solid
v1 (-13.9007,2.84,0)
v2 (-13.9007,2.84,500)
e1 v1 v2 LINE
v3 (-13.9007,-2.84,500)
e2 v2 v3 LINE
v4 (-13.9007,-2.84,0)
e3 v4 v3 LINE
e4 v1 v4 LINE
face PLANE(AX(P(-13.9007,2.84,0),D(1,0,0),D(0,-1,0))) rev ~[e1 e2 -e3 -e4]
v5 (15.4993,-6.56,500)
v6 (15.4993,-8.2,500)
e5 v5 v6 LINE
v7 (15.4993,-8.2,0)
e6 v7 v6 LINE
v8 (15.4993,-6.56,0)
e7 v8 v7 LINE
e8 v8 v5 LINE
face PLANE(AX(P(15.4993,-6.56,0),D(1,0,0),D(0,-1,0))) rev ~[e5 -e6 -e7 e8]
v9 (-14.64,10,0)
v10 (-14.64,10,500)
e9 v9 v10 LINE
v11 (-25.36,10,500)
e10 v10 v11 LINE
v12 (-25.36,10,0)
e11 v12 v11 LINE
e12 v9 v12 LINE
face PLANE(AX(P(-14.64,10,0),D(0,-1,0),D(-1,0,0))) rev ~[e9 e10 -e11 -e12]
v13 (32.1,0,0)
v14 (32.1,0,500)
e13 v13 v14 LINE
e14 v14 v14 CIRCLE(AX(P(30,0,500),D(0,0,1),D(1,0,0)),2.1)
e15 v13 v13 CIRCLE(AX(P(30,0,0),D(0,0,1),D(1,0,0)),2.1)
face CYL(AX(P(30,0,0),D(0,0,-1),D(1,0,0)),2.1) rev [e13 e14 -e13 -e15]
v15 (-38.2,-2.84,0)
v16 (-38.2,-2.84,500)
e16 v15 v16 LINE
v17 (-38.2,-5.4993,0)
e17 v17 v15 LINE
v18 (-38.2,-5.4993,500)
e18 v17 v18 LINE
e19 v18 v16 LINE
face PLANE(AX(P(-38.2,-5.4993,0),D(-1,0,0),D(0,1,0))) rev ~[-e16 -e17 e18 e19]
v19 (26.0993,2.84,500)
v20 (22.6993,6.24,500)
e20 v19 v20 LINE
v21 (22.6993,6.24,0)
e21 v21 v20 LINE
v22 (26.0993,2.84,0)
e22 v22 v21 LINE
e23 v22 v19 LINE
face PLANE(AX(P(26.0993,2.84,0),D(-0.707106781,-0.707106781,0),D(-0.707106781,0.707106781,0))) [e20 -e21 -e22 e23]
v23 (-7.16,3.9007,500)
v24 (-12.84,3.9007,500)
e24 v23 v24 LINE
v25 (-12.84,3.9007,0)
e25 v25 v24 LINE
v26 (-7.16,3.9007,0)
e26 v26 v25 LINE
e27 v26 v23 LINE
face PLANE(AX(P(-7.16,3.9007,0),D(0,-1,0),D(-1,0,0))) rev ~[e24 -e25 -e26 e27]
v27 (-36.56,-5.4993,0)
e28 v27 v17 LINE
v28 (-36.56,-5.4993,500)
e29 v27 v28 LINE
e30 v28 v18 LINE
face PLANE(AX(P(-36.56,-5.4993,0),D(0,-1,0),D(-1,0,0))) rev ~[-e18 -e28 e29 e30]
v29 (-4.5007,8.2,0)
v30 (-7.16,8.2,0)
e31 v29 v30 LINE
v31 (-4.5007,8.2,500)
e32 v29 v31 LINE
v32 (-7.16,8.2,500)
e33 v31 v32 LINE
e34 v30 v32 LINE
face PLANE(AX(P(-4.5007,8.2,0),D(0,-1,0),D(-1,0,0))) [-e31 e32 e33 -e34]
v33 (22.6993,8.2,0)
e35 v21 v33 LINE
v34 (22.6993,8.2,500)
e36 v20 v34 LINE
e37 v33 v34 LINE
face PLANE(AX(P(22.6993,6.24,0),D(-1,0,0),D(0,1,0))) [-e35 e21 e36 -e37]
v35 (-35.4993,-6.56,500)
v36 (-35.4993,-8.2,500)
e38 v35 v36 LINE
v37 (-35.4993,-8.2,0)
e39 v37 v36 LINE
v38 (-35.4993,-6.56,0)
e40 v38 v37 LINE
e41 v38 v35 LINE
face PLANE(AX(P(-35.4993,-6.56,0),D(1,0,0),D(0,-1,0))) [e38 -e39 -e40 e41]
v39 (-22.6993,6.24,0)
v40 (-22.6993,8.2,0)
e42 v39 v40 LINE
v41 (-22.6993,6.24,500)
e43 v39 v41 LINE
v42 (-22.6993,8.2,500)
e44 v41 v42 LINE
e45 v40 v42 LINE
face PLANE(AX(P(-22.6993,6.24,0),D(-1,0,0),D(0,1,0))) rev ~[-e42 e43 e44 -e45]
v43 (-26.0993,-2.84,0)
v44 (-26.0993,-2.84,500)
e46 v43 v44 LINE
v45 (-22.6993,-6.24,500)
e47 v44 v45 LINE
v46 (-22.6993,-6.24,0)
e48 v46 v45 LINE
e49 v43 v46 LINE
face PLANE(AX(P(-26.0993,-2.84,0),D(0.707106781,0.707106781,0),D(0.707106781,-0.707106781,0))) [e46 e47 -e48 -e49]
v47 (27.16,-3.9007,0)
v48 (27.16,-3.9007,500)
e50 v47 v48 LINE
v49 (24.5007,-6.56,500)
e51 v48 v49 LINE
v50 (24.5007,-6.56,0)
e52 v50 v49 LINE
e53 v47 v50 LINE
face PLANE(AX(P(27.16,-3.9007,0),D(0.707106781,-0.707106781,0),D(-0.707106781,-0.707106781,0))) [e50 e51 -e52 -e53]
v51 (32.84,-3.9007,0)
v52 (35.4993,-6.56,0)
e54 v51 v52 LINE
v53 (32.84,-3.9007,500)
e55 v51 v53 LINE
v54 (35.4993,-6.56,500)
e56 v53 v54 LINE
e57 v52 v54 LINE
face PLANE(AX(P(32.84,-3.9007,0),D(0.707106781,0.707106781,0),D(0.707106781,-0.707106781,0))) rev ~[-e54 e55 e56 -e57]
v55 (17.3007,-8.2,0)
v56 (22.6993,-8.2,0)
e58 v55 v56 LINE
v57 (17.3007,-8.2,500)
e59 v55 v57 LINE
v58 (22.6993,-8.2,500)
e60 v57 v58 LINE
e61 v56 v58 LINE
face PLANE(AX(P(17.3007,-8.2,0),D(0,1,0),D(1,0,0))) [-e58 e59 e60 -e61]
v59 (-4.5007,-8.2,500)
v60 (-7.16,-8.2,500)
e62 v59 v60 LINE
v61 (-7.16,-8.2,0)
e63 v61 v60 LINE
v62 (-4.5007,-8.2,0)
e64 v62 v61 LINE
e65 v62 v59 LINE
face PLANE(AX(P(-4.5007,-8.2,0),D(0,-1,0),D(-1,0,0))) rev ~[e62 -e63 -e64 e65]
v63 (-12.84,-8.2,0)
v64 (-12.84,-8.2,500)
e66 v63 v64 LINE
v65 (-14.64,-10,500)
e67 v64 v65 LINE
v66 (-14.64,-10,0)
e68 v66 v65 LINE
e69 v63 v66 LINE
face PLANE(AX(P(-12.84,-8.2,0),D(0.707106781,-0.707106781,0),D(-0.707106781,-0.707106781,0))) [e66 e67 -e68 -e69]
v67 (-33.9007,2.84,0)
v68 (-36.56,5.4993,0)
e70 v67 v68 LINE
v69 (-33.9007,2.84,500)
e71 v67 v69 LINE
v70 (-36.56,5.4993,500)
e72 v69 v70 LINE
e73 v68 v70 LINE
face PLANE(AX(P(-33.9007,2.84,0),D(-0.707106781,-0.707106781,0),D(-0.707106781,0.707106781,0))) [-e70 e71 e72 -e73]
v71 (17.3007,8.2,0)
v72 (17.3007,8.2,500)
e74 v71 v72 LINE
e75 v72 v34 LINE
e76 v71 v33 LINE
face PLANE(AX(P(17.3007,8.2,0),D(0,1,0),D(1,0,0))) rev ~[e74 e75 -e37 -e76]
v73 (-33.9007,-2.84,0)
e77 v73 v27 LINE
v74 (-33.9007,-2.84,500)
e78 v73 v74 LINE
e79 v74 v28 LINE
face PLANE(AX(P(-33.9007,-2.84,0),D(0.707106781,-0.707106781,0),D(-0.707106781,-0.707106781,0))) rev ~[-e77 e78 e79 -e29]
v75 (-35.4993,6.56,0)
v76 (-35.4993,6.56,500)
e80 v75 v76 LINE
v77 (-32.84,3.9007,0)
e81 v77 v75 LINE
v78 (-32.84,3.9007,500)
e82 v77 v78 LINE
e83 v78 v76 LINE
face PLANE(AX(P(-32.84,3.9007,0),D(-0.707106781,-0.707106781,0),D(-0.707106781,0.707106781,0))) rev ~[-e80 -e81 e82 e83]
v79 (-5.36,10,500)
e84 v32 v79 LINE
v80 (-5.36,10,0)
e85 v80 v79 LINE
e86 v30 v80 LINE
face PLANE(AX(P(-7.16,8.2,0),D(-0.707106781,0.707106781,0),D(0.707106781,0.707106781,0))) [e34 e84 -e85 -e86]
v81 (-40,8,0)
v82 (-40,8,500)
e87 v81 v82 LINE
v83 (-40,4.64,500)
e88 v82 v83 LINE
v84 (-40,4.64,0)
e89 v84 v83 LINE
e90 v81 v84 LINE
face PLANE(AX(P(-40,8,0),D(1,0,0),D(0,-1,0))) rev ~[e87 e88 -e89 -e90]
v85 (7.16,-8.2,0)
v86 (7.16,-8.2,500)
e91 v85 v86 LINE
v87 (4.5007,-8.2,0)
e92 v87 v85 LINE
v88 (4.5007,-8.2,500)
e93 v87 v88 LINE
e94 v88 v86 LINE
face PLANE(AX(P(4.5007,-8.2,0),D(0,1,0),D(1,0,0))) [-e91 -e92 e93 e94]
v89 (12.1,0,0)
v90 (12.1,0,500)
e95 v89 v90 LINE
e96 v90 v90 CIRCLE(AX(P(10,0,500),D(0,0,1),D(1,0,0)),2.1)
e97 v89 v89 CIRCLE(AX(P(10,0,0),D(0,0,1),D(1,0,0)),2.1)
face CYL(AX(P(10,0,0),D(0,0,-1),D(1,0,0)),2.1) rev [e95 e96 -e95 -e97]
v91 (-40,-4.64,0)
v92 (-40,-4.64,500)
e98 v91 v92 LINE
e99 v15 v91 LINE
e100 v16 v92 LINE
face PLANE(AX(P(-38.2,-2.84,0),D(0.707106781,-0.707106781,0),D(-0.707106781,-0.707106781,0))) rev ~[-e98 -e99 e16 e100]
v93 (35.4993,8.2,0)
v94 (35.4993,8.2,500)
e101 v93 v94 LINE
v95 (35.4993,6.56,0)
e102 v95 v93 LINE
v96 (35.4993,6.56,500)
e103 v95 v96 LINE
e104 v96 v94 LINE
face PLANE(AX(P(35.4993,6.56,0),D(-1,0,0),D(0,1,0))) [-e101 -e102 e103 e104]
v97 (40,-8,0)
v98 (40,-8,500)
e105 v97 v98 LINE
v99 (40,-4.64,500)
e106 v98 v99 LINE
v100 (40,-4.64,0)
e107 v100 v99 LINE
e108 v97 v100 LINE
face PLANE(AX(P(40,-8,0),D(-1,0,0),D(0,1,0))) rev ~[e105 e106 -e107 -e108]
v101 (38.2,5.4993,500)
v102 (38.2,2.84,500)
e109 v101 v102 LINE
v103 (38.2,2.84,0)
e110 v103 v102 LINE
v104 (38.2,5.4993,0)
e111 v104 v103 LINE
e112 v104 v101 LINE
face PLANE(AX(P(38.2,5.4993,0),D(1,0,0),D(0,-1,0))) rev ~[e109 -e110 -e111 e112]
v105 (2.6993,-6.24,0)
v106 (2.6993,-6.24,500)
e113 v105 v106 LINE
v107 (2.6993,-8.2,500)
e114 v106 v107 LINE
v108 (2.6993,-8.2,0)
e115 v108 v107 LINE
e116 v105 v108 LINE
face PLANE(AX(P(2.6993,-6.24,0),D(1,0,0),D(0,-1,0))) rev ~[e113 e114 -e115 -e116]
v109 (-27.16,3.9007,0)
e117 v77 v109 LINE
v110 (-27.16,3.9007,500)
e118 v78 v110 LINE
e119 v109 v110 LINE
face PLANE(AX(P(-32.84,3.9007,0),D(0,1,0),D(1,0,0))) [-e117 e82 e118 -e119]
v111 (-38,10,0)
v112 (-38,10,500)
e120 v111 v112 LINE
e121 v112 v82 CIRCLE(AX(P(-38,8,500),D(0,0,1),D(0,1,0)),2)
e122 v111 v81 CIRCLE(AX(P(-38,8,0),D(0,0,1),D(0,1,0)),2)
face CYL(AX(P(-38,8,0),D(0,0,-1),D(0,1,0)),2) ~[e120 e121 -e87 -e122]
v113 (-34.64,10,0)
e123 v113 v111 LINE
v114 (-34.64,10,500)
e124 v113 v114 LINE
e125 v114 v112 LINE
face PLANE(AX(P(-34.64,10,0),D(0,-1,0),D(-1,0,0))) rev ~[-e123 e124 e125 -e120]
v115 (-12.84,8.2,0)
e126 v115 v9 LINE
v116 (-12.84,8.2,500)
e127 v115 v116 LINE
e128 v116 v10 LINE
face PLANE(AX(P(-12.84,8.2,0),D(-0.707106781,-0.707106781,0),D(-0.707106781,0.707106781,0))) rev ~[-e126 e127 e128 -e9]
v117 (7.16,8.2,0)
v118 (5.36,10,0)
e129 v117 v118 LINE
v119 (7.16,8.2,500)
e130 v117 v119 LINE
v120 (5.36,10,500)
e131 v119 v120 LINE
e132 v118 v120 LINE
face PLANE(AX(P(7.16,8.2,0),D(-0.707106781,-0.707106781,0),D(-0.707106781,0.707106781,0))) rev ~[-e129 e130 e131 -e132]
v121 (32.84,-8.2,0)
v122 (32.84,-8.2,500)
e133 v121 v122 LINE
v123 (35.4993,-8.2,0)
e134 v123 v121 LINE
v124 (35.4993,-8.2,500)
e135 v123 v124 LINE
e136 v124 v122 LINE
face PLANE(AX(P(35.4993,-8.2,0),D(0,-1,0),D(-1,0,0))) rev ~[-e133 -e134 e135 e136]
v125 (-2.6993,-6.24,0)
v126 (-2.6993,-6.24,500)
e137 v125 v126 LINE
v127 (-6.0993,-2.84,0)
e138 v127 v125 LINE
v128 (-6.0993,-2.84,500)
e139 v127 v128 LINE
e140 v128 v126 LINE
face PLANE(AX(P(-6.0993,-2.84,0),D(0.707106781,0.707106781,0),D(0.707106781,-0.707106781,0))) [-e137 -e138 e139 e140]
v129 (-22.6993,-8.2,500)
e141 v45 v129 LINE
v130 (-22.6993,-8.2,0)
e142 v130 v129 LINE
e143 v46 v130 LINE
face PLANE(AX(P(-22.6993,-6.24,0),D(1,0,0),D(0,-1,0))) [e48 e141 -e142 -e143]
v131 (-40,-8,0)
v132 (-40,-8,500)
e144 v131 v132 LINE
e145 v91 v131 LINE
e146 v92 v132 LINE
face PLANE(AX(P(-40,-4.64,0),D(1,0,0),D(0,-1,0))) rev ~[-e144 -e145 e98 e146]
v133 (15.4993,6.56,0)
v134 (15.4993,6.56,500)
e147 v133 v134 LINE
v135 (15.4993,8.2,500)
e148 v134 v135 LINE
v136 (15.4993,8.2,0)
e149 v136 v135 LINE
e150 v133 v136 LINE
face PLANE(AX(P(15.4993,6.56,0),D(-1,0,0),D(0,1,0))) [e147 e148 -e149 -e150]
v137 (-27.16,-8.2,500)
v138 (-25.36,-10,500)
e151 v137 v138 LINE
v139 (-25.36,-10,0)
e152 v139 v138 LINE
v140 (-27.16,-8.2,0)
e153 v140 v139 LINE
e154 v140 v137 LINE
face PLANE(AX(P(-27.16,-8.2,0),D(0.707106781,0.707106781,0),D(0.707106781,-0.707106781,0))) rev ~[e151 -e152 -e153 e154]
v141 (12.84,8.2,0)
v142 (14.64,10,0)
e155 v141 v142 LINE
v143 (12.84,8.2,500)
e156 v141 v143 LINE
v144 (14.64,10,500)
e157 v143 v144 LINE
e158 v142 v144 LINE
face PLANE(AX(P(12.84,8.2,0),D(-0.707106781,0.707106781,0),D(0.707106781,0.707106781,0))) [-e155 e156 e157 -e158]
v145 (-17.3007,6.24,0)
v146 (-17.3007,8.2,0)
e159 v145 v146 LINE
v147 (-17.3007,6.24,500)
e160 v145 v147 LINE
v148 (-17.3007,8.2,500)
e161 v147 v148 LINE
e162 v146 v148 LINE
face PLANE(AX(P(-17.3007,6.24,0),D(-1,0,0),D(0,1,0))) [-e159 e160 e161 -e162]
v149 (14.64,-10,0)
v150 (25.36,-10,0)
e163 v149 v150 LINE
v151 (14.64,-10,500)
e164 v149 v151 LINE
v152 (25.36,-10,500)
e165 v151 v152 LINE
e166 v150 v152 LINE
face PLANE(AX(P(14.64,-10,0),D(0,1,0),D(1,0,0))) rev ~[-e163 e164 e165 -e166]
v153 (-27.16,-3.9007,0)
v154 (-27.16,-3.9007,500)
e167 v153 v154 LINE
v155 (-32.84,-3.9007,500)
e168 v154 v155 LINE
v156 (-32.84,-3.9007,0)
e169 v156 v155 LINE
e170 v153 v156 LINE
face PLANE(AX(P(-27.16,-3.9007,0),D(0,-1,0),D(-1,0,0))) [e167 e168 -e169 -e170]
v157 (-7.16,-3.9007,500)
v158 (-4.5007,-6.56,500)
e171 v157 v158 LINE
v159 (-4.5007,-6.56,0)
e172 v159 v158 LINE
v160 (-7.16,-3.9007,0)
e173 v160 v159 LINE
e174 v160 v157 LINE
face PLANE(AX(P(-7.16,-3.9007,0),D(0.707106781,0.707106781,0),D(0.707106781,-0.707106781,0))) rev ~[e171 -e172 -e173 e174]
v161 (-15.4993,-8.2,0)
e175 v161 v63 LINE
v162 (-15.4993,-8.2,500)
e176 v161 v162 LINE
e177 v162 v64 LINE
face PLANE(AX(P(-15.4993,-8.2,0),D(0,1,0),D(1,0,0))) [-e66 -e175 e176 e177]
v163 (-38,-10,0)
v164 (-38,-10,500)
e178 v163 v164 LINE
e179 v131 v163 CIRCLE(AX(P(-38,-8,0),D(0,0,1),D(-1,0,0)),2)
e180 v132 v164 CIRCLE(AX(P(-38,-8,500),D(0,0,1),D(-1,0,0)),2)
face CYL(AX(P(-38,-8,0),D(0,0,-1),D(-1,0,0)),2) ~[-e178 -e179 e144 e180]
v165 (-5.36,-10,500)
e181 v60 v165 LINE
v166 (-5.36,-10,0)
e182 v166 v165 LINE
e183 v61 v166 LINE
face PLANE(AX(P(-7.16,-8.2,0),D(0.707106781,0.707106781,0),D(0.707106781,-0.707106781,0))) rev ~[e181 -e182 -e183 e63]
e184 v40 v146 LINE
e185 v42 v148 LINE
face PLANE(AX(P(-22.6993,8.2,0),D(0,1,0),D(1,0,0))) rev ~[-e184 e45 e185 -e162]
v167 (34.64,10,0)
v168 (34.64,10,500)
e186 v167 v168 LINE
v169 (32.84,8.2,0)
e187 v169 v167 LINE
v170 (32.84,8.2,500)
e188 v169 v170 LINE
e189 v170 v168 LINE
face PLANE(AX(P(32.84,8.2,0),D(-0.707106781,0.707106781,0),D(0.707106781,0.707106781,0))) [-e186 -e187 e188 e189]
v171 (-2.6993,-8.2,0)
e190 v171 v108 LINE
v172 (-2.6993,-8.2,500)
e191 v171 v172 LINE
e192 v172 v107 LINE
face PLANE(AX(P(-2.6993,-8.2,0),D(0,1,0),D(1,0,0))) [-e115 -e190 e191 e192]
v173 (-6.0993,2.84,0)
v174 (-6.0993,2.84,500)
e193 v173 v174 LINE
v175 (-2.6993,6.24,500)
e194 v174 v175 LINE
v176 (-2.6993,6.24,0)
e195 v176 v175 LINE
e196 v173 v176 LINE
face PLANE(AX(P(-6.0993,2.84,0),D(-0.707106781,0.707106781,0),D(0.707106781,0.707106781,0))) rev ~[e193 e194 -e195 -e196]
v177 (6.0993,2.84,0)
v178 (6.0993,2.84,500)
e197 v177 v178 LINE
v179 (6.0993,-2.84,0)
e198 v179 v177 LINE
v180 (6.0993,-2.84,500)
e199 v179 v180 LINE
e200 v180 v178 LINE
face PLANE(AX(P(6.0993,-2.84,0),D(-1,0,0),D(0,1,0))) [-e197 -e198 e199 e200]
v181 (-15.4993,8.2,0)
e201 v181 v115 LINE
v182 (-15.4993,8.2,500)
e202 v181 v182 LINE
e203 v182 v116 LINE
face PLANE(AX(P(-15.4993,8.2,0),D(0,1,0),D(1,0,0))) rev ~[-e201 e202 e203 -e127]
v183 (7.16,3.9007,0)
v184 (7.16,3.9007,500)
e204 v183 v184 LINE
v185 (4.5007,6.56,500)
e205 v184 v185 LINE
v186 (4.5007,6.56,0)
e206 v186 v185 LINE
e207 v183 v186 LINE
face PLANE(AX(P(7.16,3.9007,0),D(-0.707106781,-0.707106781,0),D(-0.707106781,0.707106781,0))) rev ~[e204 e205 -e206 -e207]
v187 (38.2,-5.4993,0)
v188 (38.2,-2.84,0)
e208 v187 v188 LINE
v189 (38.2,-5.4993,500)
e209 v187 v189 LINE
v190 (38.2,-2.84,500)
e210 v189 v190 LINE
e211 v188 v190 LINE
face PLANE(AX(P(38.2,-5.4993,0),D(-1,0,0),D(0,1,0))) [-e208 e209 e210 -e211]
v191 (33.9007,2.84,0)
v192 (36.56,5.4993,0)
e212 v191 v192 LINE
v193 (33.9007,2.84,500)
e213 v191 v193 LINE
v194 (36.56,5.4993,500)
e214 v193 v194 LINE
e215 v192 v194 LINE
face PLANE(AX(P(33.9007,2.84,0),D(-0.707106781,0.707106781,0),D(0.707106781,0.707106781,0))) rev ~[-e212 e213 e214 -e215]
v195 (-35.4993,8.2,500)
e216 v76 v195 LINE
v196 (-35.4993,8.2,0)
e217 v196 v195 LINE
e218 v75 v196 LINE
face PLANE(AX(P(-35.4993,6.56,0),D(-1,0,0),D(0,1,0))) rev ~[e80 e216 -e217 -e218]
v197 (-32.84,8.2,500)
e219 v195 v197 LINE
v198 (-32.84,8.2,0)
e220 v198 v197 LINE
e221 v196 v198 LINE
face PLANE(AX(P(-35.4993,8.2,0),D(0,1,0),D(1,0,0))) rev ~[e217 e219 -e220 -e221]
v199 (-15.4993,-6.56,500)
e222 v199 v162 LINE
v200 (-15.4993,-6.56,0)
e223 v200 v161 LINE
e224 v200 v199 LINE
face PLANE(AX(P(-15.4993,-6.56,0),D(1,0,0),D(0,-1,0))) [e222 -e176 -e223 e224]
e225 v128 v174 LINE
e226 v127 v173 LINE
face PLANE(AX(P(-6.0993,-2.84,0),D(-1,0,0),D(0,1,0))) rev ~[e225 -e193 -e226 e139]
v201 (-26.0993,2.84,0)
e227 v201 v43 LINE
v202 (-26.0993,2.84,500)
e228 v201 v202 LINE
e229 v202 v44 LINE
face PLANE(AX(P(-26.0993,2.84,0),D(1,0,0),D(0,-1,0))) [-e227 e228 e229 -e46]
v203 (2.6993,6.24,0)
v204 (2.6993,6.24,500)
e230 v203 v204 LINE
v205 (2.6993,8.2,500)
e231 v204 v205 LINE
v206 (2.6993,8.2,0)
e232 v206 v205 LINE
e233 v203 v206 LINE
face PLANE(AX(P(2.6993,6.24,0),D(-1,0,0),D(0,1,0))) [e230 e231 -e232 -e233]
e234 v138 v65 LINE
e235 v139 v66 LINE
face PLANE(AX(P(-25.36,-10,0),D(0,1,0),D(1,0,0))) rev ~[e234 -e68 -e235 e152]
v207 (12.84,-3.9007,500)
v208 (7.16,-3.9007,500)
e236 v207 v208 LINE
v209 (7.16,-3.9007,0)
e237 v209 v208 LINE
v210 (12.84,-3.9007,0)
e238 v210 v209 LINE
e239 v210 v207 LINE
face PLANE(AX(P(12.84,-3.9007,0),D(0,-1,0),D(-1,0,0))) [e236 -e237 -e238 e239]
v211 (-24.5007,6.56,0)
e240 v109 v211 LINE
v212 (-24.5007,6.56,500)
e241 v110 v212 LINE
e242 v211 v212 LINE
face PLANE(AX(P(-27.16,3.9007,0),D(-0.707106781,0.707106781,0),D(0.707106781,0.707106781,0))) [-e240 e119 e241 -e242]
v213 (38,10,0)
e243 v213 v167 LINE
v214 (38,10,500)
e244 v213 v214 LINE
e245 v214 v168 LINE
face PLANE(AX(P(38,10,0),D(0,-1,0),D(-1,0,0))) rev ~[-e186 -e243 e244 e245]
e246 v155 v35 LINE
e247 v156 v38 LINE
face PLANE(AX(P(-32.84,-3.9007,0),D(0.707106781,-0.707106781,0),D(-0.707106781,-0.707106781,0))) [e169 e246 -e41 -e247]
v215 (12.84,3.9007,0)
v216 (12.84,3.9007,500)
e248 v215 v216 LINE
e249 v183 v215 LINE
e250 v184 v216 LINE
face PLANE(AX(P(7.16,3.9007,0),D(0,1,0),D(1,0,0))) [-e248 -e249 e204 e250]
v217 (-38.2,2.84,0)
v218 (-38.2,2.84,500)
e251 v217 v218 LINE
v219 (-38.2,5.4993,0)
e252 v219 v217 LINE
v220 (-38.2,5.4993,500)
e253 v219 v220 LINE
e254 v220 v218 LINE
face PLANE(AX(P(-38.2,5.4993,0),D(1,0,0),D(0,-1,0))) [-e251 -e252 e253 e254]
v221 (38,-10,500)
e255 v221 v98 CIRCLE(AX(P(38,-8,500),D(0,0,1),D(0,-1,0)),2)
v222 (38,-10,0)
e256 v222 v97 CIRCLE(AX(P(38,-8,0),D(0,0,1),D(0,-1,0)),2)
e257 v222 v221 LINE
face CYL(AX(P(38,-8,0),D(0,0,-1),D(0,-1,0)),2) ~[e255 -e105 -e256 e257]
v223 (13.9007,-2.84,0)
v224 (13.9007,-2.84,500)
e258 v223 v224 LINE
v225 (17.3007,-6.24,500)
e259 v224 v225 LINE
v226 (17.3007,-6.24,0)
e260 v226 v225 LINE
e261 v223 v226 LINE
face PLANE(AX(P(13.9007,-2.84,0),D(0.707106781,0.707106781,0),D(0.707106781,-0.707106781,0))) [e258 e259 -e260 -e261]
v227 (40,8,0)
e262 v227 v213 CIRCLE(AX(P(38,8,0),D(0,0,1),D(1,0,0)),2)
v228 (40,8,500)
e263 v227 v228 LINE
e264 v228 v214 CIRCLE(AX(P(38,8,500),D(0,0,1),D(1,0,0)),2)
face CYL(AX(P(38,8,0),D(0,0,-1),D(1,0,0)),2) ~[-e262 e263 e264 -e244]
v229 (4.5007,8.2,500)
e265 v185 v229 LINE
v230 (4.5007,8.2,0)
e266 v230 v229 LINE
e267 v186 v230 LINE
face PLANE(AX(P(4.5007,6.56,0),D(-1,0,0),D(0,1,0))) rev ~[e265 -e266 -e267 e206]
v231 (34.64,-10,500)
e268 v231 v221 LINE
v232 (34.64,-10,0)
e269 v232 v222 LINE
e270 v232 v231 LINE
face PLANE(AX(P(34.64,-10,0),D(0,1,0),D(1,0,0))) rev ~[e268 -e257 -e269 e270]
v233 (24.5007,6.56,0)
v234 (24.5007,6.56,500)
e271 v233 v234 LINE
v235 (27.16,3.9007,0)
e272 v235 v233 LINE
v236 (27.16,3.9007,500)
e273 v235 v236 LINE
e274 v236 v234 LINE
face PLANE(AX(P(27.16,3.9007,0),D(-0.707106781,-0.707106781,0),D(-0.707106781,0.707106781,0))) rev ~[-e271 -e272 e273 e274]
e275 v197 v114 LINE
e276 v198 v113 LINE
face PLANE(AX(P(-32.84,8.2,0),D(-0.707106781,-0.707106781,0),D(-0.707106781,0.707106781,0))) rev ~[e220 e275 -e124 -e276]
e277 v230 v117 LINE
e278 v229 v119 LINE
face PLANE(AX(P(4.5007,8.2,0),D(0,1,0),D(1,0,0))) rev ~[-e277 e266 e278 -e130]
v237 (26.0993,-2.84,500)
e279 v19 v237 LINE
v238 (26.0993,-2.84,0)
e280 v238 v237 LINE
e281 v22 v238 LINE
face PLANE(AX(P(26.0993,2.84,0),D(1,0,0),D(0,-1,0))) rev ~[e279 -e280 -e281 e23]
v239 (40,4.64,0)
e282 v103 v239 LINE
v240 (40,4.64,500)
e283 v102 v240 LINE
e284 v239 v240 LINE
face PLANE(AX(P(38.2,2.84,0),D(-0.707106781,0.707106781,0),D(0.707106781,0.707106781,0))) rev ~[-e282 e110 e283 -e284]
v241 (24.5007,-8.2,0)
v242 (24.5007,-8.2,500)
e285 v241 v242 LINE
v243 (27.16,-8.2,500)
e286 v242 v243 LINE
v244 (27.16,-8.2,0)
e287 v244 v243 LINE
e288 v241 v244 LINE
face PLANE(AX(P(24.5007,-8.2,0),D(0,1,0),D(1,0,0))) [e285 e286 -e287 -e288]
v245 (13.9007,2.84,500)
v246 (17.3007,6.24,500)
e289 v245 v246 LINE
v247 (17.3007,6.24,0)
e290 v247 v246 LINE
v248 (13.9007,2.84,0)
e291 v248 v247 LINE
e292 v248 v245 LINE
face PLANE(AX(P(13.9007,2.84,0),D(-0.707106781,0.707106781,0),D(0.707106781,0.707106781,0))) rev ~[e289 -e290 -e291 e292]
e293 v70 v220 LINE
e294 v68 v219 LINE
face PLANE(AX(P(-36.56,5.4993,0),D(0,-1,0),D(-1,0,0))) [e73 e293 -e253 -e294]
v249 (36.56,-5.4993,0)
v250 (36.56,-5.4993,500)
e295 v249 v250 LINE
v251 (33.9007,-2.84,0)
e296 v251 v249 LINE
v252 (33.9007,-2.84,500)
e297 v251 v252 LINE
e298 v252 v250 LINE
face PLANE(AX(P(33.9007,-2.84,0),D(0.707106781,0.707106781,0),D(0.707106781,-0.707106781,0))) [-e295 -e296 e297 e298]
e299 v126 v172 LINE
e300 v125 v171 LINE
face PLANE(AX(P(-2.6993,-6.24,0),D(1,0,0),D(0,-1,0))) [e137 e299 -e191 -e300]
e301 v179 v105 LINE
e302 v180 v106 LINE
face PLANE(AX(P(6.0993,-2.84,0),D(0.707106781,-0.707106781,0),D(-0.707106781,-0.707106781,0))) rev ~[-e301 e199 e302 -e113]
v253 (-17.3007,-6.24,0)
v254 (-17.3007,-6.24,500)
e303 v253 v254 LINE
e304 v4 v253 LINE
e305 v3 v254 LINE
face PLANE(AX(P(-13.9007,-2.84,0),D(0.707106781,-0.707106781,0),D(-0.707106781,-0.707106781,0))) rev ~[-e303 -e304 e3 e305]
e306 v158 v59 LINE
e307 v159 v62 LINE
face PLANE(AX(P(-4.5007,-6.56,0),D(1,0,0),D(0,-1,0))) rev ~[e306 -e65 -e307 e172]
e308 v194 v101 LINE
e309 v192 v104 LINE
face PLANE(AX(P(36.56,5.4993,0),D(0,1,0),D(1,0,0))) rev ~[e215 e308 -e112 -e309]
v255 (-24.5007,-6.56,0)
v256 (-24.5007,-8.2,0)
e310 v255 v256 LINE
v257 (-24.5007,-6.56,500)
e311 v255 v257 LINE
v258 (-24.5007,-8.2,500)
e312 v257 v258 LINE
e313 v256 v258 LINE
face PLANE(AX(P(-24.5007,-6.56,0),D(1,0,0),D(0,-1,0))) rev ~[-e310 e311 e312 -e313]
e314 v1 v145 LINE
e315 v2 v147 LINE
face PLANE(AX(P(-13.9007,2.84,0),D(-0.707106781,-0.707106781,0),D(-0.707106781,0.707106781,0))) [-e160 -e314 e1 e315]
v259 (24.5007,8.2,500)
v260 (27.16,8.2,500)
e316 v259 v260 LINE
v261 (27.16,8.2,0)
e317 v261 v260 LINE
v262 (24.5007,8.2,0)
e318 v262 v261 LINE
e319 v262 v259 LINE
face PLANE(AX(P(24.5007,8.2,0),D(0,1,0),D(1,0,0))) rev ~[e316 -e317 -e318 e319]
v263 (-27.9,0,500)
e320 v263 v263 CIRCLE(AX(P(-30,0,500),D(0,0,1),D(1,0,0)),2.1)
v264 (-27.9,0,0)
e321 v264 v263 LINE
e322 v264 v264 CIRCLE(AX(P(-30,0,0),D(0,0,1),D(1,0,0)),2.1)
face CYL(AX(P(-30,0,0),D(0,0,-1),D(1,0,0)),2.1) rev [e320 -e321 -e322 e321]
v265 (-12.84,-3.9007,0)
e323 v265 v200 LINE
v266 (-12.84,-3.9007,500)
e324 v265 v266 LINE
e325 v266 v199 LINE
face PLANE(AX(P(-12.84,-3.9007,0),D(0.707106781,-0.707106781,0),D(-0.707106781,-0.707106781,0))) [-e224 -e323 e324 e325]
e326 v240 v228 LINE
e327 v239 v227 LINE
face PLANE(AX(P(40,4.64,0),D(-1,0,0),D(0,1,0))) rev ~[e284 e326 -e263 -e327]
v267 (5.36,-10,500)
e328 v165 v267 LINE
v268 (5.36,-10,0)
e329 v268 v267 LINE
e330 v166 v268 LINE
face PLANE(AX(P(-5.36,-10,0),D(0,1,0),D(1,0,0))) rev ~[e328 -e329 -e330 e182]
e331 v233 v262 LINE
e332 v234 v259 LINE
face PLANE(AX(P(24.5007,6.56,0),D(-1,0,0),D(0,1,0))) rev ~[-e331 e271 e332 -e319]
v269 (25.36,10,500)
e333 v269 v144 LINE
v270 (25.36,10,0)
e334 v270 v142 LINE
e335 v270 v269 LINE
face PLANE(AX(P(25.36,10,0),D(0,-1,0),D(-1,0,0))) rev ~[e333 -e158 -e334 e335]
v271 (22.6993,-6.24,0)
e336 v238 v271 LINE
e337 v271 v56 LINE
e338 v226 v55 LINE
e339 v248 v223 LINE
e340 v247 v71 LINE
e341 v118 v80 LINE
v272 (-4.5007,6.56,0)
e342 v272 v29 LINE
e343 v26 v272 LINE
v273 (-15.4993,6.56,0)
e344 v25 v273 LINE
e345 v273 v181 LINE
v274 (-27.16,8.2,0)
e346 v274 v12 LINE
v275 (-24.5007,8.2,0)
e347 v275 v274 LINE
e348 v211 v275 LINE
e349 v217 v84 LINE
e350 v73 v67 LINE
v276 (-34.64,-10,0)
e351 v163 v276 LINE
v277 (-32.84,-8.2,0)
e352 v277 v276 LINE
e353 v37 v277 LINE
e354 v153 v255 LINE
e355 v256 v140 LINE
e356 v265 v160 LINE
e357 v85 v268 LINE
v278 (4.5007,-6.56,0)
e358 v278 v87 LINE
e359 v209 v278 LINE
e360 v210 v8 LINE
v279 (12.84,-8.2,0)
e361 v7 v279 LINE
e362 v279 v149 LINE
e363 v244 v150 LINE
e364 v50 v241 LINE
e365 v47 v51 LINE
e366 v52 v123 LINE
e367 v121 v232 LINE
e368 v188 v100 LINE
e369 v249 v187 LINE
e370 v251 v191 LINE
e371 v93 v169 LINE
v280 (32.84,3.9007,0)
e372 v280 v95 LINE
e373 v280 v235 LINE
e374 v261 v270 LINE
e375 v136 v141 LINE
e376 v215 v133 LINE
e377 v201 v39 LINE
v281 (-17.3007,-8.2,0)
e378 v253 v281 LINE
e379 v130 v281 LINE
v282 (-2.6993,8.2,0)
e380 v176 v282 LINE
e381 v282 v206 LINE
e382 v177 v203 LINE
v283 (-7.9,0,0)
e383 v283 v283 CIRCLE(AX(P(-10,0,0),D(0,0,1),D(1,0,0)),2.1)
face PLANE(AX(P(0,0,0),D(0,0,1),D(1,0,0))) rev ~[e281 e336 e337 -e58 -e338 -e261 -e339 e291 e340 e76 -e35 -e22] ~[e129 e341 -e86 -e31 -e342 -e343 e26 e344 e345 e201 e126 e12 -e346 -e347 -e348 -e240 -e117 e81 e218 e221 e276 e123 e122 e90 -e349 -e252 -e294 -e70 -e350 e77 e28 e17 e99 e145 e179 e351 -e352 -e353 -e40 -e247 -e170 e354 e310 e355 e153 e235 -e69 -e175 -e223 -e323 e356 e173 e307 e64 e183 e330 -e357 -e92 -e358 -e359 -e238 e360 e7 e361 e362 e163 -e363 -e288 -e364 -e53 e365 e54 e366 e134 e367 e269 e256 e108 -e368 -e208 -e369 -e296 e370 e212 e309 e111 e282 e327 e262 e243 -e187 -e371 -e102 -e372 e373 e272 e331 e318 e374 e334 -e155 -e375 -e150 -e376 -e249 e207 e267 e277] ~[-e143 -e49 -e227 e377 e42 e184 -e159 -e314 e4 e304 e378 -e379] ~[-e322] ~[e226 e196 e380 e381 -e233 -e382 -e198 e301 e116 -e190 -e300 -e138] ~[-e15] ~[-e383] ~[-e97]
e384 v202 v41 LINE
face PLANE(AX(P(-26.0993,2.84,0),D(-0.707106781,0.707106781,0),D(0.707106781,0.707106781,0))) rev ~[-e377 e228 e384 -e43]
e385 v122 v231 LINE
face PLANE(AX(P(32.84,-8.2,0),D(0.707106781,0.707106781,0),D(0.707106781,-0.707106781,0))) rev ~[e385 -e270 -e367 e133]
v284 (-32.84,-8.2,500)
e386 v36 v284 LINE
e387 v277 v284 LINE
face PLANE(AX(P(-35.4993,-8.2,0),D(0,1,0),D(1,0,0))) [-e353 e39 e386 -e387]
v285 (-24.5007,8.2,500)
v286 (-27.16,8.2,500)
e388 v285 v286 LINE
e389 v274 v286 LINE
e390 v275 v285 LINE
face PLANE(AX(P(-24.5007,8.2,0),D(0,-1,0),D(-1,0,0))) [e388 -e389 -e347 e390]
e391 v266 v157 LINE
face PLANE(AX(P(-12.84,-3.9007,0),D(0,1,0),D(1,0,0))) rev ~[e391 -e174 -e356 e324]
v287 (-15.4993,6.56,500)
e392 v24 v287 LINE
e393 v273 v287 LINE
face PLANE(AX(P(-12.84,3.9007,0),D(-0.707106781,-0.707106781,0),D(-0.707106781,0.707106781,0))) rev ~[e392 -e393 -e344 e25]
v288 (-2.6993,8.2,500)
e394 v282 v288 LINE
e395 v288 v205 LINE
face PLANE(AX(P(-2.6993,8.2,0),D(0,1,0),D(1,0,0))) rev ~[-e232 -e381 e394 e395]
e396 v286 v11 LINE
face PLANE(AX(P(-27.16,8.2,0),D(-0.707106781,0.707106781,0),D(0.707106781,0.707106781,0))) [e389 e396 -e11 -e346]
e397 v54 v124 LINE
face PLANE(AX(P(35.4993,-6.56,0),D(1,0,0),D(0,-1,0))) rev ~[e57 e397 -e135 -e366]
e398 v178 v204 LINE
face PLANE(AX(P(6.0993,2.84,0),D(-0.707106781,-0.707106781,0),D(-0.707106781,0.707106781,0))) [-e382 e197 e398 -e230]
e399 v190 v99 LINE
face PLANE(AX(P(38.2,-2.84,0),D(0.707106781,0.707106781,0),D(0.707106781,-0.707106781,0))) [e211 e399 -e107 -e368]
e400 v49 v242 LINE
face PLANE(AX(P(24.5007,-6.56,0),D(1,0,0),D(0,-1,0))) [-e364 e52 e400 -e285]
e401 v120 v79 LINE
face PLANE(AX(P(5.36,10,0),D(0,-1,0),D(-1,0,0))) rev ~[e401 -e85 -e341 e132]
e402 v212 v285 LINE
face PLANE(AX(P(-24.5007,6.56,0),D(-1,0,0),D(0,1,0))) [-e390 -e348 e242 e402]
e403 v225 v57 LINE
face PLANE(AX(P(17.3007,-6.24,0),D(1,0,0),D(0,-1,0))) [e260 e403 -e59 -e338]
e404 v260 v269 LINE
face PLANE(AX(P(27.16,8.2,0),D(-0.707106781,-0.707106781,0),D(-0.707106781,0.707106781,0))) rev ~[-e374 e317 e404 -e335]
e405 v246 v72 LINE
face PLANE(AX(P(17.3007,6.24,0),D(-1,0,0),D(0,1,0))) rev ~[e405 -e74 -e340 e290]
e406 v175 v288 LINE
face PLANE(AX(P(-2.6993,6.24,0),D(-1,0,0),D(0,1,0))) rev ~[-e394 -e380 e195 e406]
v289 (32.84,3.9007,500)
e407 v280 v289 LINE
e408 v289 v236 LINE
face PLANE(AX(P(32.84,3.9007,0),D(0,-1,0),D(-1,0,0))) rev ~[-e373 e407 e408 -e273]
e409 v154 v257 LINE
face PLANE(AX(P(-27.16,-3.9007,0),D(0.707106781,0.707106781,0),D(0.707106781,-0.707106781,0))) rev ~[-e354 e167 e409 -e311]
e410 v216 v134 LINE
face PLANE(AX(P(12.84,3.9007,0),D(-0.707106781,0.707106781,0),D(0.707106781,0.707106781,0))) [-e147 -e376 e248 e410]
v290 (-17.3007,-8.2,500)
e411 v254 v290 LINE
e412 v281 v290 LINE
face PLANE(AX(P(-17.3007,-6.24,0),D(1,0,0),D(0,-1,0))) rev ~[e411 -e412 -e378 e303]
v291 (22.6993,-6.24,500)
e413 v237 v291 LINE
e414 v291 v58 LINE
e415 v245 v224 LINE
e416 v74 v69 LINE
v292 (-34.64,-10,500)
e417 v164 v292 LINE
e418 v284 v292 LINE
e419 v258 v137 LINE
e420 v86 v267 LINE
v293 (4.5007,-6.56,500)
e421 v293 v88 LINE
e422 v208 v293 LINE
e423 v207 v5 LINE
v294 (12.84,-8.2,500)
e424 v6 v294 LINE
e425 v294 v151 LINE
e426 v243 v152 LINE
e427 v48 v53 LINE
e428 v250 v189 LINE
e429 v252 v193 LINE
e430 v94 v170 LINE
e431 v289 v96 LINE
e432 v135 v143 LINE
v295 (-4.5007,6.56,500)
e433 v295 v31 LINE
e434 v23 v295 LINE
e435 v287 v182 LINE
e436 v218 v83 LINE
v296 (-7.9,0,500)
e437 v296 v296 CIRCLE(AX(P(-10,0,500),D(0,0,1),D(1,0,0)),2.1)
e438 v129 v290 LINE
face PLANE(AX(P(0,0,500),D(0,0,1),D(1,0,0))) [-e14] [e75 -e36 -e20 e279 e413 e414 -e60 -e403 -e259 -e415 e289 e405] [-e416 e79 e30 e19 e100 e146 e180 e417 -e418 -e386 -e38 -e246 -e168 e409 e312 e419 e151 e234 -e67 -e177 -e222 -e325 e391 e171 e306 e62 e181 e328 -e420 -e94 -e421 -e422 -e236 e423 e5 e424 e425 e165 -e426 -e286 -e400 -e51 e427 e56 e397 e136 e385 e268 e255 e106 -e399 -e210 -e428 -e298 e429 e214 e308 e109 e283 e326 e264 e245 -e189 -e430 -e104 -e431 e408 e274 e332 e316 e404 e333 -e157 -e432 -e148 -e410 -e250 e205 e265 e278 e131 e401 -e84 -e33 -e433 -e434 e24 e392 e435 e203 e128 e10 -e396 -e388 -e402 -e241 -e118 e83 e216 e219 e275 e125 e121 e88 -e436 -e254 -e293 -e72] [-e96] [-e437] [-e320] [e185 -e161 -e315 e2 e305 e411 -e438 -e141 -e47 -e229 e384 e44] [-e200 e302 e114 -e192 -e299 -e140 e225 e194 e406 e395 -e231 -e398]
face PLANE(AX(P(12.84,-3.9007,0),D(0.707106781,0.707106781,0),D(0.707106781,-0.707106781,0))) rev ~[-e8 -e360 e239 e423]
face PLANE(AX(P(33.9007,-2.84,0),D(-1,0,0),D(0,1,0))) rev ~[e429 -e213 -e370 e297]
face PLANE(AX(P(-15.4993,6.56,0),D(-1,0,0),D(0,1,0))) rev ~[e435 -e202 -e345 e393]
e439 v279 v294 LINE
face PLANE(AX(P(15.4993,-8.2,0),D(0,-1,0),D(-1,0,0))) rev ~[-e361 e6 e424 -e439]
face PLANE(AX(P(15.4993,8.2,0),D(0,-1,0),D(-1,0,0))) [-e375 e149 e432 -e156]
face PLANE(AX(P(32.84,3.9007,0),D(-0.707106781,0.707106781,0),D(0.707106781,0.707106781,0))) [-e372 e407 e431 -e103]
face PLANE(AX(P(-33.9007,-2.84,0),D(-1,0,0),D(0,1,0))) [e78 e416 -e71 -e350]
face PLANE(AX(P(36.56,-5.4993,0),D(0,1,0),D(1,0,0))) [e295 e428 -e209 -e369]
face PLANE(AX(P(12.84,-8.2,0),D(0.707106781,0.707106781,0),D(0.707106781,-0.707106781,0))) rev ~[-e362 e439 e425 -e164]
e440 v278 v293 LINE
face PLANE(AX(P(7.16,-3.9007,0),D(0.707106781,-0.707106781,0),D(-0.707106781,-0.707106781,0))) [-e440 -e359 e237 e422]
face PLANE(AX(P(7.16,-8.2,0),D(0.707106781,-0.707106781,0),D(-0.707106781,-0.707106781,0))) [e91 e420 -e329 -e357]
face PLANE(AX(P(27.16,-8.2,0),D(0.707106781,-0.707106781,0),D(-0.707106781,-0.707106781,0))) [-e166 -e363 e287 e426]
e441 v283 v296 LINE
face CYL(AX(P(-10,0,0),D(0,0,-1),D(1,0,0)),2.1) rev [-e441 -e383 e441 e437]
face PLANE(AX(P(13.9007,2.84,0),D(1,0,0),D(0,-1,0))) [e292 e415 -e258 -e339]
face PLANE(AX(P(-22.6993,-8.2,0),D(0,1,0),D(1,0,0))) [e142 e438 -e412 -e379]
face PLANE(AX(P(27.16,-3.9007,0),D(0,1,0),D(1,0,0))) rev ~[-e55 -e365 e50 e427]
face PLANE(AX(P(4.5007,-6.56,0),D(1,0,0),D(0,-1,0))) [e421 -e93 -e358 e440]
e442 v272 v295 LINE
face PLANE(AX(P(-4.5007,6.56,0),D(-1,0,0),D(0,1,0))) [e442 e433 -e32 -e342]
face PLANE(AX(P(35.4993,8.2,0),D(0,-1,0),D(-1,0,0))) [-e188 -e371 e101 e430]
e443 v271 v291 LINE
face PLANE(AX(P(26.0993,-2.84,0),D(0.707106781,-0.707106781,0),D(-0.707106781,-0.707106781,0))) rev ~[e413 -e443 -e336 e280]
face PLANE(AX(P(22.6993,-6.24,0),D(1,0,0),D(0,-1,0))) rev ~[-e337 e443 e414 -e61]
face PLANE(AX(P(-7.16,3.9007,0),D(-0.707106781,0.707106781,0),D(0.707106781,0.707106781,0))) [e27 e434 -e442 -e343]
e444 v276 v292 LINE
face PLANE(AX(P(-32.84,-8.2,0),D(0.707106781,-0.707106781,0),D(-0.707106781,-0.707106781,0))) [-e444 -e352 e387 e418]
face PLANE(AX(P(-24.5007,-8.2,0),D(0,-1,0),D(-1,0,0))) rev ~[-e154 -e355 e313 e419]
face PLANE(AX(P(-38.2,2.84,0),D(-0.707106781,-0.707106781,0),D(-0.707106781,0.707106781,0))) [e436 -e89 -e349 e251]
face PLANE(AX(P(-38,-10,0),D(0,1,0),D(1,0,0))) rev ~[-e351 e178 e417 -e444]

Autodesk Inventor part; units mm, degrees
ref_plane "YZ Plane" through (0, 0, 0) normal (1, 0, 0) x (0, 1, 0)
ref_plane "Start Plane" through (0, 0, 0) normal (0, 0, 1) x (1, 0, 0)
ref_plane "End Plane" through (0, 0, 10) normal (0, 0, 1) x (1, 0, 0)
sketch "Sketch1" plane through (0, 0, 0) normal (0, 0, 1) x (1, 0, 0)
  line L0 (0, 0) -> (0, 10) construction
  line L1 (0, 10) -> (-10, 10) construction
  line L2 (-10, 10) -> (-10, 0) construction
  line L3 (-10, 10) -> (-20, 10) construction
  line L4 (-20, 10) -> (-20, 0) construction
  circle A0 centre (-10, 0) radius 2.1
  line L5 (-13.9007, -3.9007) -> (-6.0993, -3.9007) construction
  line L6 (-6.0993, -3.9007) -> (-6.0993, 3.9007) construction
  line L7 (-6.0993, 3.9007) -> (-13.9007, 3.9007) construction
  line L8 (-13.9007, 3.9007) -> (-13.9007, -3.9007) construction
  line L9 (-13.9007, -3.9007) -> (-6.0993, 3.9007) construction
  line L10 (-6.0993, -3.9007) -> (-13.9007, 3.9007) construction
  line L11 (-13.9007, -2.84) -> (-12.84, -3.9007) construction
  line L12 (-13.9007, -2.84) -> (-12.4007, -2.84) construction
  line L13 (0, 0) -> (-10, 0) construction
  line L14 (-12.84, -3.9007) -> (-15.4993, -6.56)
  line L15 (-15.4993, -6.56) -> (-15.4993, -8.2)
  line L16 (-15.4993, -8.2) -> (-12.84, -8.2)
  line L17 (-12.84, -8.2) -> (-14.64, -10)
  line L18 (-7.16, -3.9007) -> (-4.5007, -6.56)
  line L19 (-4.5007, -6.56) -> (-4.5007, -8.2)
  line L20 (-4.5007, -8.2) -> (-7.16, -8.2)
  line L21 (-7.16, -8.2) -> (-5.36, -10)
  line L22 (-12.84, 3.9007) -> (-15.4993, 6.56)
  line L23 (-15.4993, 6.56) -> (-15.4993, 8.2)
  line L24 (-15.4993, 8.2) -> (-12.84, 8.2)
  line L25 (-12.84, 8.2) -> (-14.64, 10)
  line L26 (-7.16, 3.9007) -> (-4.5007, 6.56)
  line L27 (-4.5007, 6.56) -> (-4.5007, 8.2)
  line L28 (-4.5007, 8.2) -> (-7.16, 8.2)
  line L29 (-7.16, 8.2) -> (-5.36, 10)
  line L30 (-20, -8.2) -> (-15.4993, -8.2) construction
  line L31 (-13.9007, -2.84) -> (-17.3007, -6.24)
  line L32 (-17.3007, -6.24) -> (-17.3007, -8.2)
  line L33 (-13.9007, 2.84) -> (-17.3007, 6.24)
  line L34 (-17.3007, 6.24) -> (-17.3007, 8.2)
  line L35 (-6.0993, -2.84) -> (-2.6993, -6.24)
  line L36 (-2.6993, -6.24) -> (-2.6993, -8.2)
  line L37 (-2.6993, 6.24) -> (-2.6993, 8.2)
  line L38 (-6.0993, 2.84) -> (-2.6993, 6.24)
  line L39 (-12.84, -3.9007) -> (-7.16, -3.9007)
  line L40 (-6.0993, -2.84) -> (-6.0993, 2.84)
  line L41 (-7.16, 3.9007) -> (-12.84, 3.9007)
  line L42 (-13.9007, 2.84) -> (-13.9007, -2.84)
  line L43 (-30, 10) -> (-30, 0) construction
  circle A1 centre (-30, 0) radius 2.1
  line L44 (-26.0993, -3.9007) -> (-33.9007, -3.9007) construction
  line L45 (-33.9007, -3.9007) -> (-33.9007, 3.9007) construction
  line L46 (-33.9007, 3.9007) -> (-26.0993, 3.9007) construction
  line L47 (-26.0993, 3.9007) -> (-26.0993, -3.9007) construction
  line L48 (-26.0993, -3.9007) -> (-33.9007, 3.9007) construction
  line L49 (-33.9007, -3.9007) -> (-26.0993, 3.9007) construction
  line L50 (-26.0993, -2.84) -> (-27.16, -3.9007) construction
  line L51 (-26.0993, -2.84) -> (-27.5993, -2.84) construction
  line L52 (-27.16, -3.9007) -> (-24.5007, -6.56)
  line L53 (-24.5007, -6.56) -> (-24.5007, -8.2)
  line L54 (-24.5007, -8.2) -> (-27.16, -8.2)
  line L55 (-27.16, -8.2) -> (-25.36, -10)
  line L56 (-32.84, -3.9007) -> (-35.4993, -6.56)
  line L57 (-35.4993, -6.56) -> (-35.4993, -8.2)
  line L58 (-35.4993, -8.2) -> (-32.84, -8.2)
  line L59 (-32.84, -8.2) -> (-34.64, -10)
  line L60 (-27.16, 3.9007) -> (-24.5007, 6.56)
  line L61 (-24.5007, 6.56) -> (-24.5007, 8.2)
  line L62 (-24.5007, 8.2) -> (-27.16, 8.2)
  line L63 (-27.16, 8.2) -> (-25.36, 10)
  line L64 (-32.84, 8.2) -> (-34.64, 10)
  line L65 (-35.4993, 8.2) -> (-32.84, 8.2)
  line L66 (-35.4993, 6.56) -> (-35.4993, 8.2)
  line L67 (-32.84, 3.9007) -> (-35.4993, 6.56)
  line L68 (-26.0993, -2.84) -> (-22.6993, -6.24)
  line L69 (-22.6993, -6.24) -> (-22.6993, -8.2)
  line L70 (-22.6993, 6.24) -> (-22.6993, 8.2)
  line L71 (-26.0993, 2.84) -> (-22.6993, 6.24)
  line L72 (-27.16, -3.9007) -> (-32.84, -3.9007)
  line L73 (-33.9007, -2.84) -> (-33.9007, 2.84)
  line L74 (-32.84, 3.9007) -> (-27.16, 3.9007)
  line L75 (-26.0993, 2.84) -> (-26.0993, -2.84)
  line L76 (-38.2, -2.84) -> (-40, -4.64)
  line L77 (-36.56, -5.4993) -> (-38.2, -5.4993)
  line L78 (-38.2, -5.4993) -> (-38.2, -2.84)
  line L79 (-33.9007, -2.84) -> (-36.56, -5.4993)
  line L80 (-33.9007, 2.84) -> (-36.56, 5.4993)
  line L81 (-36.56, 5.4993) -> (-38.2, 5.4993)
  line L82 (-38.2, 2.84) -> (-40, 4.64)
  line L83 (-38.2, 5.4993) -> (-38.2, 2.84)
  line L84 (10, 10) -> (10, 0) construction
  line L85 (10, 10) -> (20, 10) construction
  line L86 (20, 10) -> (20, 0) construction
  circle A2 centre (10, 0) radius 2.1
  line L87 (13.9007, -3.9007) -> (6.0993, -3.9007) construction
  line L88 (6.0993, -3.9007) -> (6.0993, 3.9007) construction
  line L89 (6.0993, 3.9007) -> (13.9007, 3.9007) construction
  line L90 (13.9007, 3.9007) -> (13.9007, -3.9007) construction
  line L91 (13.9007, -3.9007) -> (6.0993, 3.9007) construction
  line L92 (6.0993, -3.9007) -> (13.9007, 3.9007) construction
  line L93 (13.9007, -2.84) -> (12.84, -3.9007) construction
  line L94 (13.9007, -2.84) -> (12.4007, -2.84) construction
  line L95 (12.84, -3.9007) -> (15.4993, -6.56)
  line L96 (15.4993, -6.56) -> (15.4993, -8.2)
  line L97 (15.4993, -8.2) -> (12.84, -8.2)
  line L98 (12.84, -8.2) -> (14.64, -10)
  line L99 (7.16, -3.9007) -> (4.5007, -6.56)
  line L100 (4.5007, -6.56) -> (4.5007, -8.2)
  line L101 (4.5007, -8.2) -> (7.16, -8.2)
  line L102 (7.16, -8.2) -> (5.36, -10)
  line L103 (12.84, 3.9007) -> (15.4993, 6.56)
  line L104 (15.4993, 6.56) -> (15.4993, 8.2)
  line L105 (15.4993, 8.2) -> (12.84, 8.2)
  line L106 (12.84, 8.2) -> (14.64, 10)
  line L107 (7.16, 8.2) -> (5.36, 10)
  line L108 (4.5007, 8.2) -> (7.16, 8.2)
  line L109 (4.5007, 6.56) -> (4.5007, 8.2)
  line L110 (7.16, 3.9007) -> (4.5007, 6.56)
  line L111 (20, -8.2) -> (15.4993, -8.2) construction
  line L112 (13.9007, -2.84) -> (17.3007, -6.24)
  line L113 (17.3007, -6.24) -> (17.3007, -8.2)
  line L114 (17.3007, 6.24) -> (17.3007, 8.2)
  line L115 (13.9007, 2.84) -> (17.3007, 6.24)
  line L116 (2.6993, 6.24) -> (2.6993, 8.2)
  line L117 (6.0993, 2.84) -> (2.6993, 6.24)
  line L118 (6.0993, -2.84) -> (2.6993, -6.24)
  line L119 (2.6993, -6.24) -> (2.6993, -8.2)
  line L120 (12.84, -3.9007) -> (7.16, -3.9007)
  line L121 (6.0993, -2.84) -> (6.0993, 2.84)
  line L122 (7.16, 3.9007) -> (12.84, 3.9007)
  line L123 (13.9007, 2.84) -> (13.9007, -2.84)
  line L124 (32.84, 3.9007) -> (35.4993, 6.56)
  line L125 (30, 10) -> (30, 0) construction
  line L126 (35.4993, 6.56) -> (35.4993, 8.2)
  line L127 (35.4993, 8.2) -> (32.84, 8.2)
  line L128 (32.84, 8.2) -> (34.64, 10)
  line L129 (32.84, -8.2) -> (34.64, -10)
  line L130 (35.4993, -6.56) -> (35.4993, -8.2)
  line L131 (35.4993, -8.2) -> (32.84, -8.2)
  line L132 (32.84, -3.9007) -> (35.4993, -6.56)
  line L133 (26.0993, 2.84) -> (26.0993, -2.84)
  line L134 (32.84, 3.9007) -> (27.16, 3.9007)
  line L135 (33.9007, -2.84) -> (33.9007, 2.84)
  line L136 (27.16, -3.9007) -> (32.84, -3.9007)
  line L137 (27.16, 3.9007) -> (24.5007, 6.56)
  line L138 (33.9007, 3.9007) -> (26.0993, 3.9007) construction
  circle A3 centre (30, 0) radius 2.1
  line L139 (26.0993, 3.9007) -> (26.0993, -3.9007) construction
  line L140 (26.0993, -3.9007) -> (33.9007, -3.9007) construction
  line L141 (26.0993, -3.9007) -> (33.9007, 3.9007) construction
  line L142 (33.9007, -3.9007) -> (26.0993, 3.9007) construction
  line L143 (33.9007, -3.9007) -> (33.9007, 3.9007) construction
  line L144 (26.0993, -2.84) -> (27.5993, -2.84) construction
  line L145 (27.16, -8.2) -> (25.36, -10)
  line L146 (26.0993, -2.84) -> (27.16, -3.9007) construction
  line L147 (27.16, -3.9007) -> (24.5007, -6.56)
  line L148 (24.5007, -8.2) -> (27.16, -8.2)
  line L149 (24.5007, -6.56) -> (24.5007, -8.2)
  line L150 (26.0993, -2.84) -> (22.6993, -6.24)
  line L151 (22.6993, -6.24) -> (22.6993, -8.2)
  line L152 (26.0993, 2.84) -> (22.6993, 6.24)
  line L153 (24.5007, 8.2) -> (27.16, 8.2)
  line L154 (24.5007, 6.56) -> (24.5007, 8.2)
  line L155 (22.6993, 6.24) -> (22.6993, 8.2)
  line L156 (27.16, 8.2) -> (25.36, 10)
  line L157 (33.9007, -2.84) -> (36.56, -5.4993)
  line L158 (36.56, -5.4993) -> (38.2, -5.4993)
  line L159 (38.2, -2.84) -> (40, -4.64)
  line L160 (38.2, -5.4993) -> (38.2, -2.84)
  line L161 (33.9007, 2.84) -> (36.56, 5.4993)
  line L162 (36.56, 5.4993) -> (38.2, 5.4993)
  line L163 (38.2, 5.4993) -> (38.2, 2.84)
  line L164 (38.2, 2.84) -> (40, 4.64)
  line L165 (-25.36, -10) -> (-14.64, -10)
  line L166 (-5.36, -10) -> (5.36, -10)
  line L167 (14.64, -10) -> (25.36, -10)
  line L168 (34.64, -10) -> (38, -10)
  line L169 (40, -8) -> (40, -4.64)
  line L170 (40, 4.64) -> (40, 8)
  line L171 (38, 10) -> (34.64, 10)
  line L172 (25.36, 10) -> (14.64, 10)
  line L173 (5.36, 10) -> (-5.36, 10)
  line L174 (-14.64, 10) -> (-25.36, 10)
  line L175 (-34.64, 10) -> (-38, 10)
  line L176 (-40, 8) -> (-40, 4.64)
  line L177 (-40, -4.64) -> (-40, -8)
  line L178 (-38, -10) -> (-34.64, -10)
  line L179 (-22.6993, 8.2) -> (-17.3007, 8.2)
  line L180 (-22.6993, -8.2) -> (-17.3007, -8.2)
  line L181 (-2.6993, 8.2) -> (2.6993, 8.2)
  line L182 (-2.6993, -8.2) -> (2.6993, -8.2)
  line L183 (17.3007, 8.2) -> (22.6993, 8.2)
  line L184 (17.3007, -8.2) -> (22.6993, -8.2)
  arc A4 (-40, -8) -> (-38, -10) centre (-38, -8) ccw
  arc A5 (-38, 10) -> (-40, 8) centre (-38, 8) ccw
  arc A6 (38, -10) -> (40, -8) centre (38, -8) ccw
  arc A7 (40, 8) -> (38, 10) centre (38, 8) ccw
  dimension "d0" = 10
  dimension "d1" = 10
  dimension "d2" = 10
  dimension "d3" = 4.2
  dimension "d4" = 1.5
  dimension "d5" = 45
  dimension "d6" = 1.64
  dimension "d7" = 1.8
  dimension "d8" = 10
  dimension "d9" = 2.84
  dimension "d11" = 135
  dimension "d12" = 1.96
  dimension "d13" = 5.68
  dimension "d14" = 2
extrude "Body" add sketch "Sketch1" along normal blind 500
sketch "Sketch10" plane through (0, 0, 0) normal (0, 0, 1) x (1, 0, 0)
  line L0 (0, 0) -> (10, 0)
ref_plane "Work Plane7" through (0, 0, 0) normal (0, -1, 0) x (1, 0, 0)
sketch "Sketch11" plane through (0, 0, 0) normal (0, -1, 0) x (1, 0, 0)
  line L0 (-2, 0) -> (12, 0)
  line L1 (-2, 10) -> (12, 10)
  dimension "d22" = 10
equation "\"G_OFFSET_START\" = 0"
equation "\"G_OFFSET_END\" = 0"
equation "\"G_L\" = d22"
properties part number "vslot 20 x 80" material "Aluminum 6061"
